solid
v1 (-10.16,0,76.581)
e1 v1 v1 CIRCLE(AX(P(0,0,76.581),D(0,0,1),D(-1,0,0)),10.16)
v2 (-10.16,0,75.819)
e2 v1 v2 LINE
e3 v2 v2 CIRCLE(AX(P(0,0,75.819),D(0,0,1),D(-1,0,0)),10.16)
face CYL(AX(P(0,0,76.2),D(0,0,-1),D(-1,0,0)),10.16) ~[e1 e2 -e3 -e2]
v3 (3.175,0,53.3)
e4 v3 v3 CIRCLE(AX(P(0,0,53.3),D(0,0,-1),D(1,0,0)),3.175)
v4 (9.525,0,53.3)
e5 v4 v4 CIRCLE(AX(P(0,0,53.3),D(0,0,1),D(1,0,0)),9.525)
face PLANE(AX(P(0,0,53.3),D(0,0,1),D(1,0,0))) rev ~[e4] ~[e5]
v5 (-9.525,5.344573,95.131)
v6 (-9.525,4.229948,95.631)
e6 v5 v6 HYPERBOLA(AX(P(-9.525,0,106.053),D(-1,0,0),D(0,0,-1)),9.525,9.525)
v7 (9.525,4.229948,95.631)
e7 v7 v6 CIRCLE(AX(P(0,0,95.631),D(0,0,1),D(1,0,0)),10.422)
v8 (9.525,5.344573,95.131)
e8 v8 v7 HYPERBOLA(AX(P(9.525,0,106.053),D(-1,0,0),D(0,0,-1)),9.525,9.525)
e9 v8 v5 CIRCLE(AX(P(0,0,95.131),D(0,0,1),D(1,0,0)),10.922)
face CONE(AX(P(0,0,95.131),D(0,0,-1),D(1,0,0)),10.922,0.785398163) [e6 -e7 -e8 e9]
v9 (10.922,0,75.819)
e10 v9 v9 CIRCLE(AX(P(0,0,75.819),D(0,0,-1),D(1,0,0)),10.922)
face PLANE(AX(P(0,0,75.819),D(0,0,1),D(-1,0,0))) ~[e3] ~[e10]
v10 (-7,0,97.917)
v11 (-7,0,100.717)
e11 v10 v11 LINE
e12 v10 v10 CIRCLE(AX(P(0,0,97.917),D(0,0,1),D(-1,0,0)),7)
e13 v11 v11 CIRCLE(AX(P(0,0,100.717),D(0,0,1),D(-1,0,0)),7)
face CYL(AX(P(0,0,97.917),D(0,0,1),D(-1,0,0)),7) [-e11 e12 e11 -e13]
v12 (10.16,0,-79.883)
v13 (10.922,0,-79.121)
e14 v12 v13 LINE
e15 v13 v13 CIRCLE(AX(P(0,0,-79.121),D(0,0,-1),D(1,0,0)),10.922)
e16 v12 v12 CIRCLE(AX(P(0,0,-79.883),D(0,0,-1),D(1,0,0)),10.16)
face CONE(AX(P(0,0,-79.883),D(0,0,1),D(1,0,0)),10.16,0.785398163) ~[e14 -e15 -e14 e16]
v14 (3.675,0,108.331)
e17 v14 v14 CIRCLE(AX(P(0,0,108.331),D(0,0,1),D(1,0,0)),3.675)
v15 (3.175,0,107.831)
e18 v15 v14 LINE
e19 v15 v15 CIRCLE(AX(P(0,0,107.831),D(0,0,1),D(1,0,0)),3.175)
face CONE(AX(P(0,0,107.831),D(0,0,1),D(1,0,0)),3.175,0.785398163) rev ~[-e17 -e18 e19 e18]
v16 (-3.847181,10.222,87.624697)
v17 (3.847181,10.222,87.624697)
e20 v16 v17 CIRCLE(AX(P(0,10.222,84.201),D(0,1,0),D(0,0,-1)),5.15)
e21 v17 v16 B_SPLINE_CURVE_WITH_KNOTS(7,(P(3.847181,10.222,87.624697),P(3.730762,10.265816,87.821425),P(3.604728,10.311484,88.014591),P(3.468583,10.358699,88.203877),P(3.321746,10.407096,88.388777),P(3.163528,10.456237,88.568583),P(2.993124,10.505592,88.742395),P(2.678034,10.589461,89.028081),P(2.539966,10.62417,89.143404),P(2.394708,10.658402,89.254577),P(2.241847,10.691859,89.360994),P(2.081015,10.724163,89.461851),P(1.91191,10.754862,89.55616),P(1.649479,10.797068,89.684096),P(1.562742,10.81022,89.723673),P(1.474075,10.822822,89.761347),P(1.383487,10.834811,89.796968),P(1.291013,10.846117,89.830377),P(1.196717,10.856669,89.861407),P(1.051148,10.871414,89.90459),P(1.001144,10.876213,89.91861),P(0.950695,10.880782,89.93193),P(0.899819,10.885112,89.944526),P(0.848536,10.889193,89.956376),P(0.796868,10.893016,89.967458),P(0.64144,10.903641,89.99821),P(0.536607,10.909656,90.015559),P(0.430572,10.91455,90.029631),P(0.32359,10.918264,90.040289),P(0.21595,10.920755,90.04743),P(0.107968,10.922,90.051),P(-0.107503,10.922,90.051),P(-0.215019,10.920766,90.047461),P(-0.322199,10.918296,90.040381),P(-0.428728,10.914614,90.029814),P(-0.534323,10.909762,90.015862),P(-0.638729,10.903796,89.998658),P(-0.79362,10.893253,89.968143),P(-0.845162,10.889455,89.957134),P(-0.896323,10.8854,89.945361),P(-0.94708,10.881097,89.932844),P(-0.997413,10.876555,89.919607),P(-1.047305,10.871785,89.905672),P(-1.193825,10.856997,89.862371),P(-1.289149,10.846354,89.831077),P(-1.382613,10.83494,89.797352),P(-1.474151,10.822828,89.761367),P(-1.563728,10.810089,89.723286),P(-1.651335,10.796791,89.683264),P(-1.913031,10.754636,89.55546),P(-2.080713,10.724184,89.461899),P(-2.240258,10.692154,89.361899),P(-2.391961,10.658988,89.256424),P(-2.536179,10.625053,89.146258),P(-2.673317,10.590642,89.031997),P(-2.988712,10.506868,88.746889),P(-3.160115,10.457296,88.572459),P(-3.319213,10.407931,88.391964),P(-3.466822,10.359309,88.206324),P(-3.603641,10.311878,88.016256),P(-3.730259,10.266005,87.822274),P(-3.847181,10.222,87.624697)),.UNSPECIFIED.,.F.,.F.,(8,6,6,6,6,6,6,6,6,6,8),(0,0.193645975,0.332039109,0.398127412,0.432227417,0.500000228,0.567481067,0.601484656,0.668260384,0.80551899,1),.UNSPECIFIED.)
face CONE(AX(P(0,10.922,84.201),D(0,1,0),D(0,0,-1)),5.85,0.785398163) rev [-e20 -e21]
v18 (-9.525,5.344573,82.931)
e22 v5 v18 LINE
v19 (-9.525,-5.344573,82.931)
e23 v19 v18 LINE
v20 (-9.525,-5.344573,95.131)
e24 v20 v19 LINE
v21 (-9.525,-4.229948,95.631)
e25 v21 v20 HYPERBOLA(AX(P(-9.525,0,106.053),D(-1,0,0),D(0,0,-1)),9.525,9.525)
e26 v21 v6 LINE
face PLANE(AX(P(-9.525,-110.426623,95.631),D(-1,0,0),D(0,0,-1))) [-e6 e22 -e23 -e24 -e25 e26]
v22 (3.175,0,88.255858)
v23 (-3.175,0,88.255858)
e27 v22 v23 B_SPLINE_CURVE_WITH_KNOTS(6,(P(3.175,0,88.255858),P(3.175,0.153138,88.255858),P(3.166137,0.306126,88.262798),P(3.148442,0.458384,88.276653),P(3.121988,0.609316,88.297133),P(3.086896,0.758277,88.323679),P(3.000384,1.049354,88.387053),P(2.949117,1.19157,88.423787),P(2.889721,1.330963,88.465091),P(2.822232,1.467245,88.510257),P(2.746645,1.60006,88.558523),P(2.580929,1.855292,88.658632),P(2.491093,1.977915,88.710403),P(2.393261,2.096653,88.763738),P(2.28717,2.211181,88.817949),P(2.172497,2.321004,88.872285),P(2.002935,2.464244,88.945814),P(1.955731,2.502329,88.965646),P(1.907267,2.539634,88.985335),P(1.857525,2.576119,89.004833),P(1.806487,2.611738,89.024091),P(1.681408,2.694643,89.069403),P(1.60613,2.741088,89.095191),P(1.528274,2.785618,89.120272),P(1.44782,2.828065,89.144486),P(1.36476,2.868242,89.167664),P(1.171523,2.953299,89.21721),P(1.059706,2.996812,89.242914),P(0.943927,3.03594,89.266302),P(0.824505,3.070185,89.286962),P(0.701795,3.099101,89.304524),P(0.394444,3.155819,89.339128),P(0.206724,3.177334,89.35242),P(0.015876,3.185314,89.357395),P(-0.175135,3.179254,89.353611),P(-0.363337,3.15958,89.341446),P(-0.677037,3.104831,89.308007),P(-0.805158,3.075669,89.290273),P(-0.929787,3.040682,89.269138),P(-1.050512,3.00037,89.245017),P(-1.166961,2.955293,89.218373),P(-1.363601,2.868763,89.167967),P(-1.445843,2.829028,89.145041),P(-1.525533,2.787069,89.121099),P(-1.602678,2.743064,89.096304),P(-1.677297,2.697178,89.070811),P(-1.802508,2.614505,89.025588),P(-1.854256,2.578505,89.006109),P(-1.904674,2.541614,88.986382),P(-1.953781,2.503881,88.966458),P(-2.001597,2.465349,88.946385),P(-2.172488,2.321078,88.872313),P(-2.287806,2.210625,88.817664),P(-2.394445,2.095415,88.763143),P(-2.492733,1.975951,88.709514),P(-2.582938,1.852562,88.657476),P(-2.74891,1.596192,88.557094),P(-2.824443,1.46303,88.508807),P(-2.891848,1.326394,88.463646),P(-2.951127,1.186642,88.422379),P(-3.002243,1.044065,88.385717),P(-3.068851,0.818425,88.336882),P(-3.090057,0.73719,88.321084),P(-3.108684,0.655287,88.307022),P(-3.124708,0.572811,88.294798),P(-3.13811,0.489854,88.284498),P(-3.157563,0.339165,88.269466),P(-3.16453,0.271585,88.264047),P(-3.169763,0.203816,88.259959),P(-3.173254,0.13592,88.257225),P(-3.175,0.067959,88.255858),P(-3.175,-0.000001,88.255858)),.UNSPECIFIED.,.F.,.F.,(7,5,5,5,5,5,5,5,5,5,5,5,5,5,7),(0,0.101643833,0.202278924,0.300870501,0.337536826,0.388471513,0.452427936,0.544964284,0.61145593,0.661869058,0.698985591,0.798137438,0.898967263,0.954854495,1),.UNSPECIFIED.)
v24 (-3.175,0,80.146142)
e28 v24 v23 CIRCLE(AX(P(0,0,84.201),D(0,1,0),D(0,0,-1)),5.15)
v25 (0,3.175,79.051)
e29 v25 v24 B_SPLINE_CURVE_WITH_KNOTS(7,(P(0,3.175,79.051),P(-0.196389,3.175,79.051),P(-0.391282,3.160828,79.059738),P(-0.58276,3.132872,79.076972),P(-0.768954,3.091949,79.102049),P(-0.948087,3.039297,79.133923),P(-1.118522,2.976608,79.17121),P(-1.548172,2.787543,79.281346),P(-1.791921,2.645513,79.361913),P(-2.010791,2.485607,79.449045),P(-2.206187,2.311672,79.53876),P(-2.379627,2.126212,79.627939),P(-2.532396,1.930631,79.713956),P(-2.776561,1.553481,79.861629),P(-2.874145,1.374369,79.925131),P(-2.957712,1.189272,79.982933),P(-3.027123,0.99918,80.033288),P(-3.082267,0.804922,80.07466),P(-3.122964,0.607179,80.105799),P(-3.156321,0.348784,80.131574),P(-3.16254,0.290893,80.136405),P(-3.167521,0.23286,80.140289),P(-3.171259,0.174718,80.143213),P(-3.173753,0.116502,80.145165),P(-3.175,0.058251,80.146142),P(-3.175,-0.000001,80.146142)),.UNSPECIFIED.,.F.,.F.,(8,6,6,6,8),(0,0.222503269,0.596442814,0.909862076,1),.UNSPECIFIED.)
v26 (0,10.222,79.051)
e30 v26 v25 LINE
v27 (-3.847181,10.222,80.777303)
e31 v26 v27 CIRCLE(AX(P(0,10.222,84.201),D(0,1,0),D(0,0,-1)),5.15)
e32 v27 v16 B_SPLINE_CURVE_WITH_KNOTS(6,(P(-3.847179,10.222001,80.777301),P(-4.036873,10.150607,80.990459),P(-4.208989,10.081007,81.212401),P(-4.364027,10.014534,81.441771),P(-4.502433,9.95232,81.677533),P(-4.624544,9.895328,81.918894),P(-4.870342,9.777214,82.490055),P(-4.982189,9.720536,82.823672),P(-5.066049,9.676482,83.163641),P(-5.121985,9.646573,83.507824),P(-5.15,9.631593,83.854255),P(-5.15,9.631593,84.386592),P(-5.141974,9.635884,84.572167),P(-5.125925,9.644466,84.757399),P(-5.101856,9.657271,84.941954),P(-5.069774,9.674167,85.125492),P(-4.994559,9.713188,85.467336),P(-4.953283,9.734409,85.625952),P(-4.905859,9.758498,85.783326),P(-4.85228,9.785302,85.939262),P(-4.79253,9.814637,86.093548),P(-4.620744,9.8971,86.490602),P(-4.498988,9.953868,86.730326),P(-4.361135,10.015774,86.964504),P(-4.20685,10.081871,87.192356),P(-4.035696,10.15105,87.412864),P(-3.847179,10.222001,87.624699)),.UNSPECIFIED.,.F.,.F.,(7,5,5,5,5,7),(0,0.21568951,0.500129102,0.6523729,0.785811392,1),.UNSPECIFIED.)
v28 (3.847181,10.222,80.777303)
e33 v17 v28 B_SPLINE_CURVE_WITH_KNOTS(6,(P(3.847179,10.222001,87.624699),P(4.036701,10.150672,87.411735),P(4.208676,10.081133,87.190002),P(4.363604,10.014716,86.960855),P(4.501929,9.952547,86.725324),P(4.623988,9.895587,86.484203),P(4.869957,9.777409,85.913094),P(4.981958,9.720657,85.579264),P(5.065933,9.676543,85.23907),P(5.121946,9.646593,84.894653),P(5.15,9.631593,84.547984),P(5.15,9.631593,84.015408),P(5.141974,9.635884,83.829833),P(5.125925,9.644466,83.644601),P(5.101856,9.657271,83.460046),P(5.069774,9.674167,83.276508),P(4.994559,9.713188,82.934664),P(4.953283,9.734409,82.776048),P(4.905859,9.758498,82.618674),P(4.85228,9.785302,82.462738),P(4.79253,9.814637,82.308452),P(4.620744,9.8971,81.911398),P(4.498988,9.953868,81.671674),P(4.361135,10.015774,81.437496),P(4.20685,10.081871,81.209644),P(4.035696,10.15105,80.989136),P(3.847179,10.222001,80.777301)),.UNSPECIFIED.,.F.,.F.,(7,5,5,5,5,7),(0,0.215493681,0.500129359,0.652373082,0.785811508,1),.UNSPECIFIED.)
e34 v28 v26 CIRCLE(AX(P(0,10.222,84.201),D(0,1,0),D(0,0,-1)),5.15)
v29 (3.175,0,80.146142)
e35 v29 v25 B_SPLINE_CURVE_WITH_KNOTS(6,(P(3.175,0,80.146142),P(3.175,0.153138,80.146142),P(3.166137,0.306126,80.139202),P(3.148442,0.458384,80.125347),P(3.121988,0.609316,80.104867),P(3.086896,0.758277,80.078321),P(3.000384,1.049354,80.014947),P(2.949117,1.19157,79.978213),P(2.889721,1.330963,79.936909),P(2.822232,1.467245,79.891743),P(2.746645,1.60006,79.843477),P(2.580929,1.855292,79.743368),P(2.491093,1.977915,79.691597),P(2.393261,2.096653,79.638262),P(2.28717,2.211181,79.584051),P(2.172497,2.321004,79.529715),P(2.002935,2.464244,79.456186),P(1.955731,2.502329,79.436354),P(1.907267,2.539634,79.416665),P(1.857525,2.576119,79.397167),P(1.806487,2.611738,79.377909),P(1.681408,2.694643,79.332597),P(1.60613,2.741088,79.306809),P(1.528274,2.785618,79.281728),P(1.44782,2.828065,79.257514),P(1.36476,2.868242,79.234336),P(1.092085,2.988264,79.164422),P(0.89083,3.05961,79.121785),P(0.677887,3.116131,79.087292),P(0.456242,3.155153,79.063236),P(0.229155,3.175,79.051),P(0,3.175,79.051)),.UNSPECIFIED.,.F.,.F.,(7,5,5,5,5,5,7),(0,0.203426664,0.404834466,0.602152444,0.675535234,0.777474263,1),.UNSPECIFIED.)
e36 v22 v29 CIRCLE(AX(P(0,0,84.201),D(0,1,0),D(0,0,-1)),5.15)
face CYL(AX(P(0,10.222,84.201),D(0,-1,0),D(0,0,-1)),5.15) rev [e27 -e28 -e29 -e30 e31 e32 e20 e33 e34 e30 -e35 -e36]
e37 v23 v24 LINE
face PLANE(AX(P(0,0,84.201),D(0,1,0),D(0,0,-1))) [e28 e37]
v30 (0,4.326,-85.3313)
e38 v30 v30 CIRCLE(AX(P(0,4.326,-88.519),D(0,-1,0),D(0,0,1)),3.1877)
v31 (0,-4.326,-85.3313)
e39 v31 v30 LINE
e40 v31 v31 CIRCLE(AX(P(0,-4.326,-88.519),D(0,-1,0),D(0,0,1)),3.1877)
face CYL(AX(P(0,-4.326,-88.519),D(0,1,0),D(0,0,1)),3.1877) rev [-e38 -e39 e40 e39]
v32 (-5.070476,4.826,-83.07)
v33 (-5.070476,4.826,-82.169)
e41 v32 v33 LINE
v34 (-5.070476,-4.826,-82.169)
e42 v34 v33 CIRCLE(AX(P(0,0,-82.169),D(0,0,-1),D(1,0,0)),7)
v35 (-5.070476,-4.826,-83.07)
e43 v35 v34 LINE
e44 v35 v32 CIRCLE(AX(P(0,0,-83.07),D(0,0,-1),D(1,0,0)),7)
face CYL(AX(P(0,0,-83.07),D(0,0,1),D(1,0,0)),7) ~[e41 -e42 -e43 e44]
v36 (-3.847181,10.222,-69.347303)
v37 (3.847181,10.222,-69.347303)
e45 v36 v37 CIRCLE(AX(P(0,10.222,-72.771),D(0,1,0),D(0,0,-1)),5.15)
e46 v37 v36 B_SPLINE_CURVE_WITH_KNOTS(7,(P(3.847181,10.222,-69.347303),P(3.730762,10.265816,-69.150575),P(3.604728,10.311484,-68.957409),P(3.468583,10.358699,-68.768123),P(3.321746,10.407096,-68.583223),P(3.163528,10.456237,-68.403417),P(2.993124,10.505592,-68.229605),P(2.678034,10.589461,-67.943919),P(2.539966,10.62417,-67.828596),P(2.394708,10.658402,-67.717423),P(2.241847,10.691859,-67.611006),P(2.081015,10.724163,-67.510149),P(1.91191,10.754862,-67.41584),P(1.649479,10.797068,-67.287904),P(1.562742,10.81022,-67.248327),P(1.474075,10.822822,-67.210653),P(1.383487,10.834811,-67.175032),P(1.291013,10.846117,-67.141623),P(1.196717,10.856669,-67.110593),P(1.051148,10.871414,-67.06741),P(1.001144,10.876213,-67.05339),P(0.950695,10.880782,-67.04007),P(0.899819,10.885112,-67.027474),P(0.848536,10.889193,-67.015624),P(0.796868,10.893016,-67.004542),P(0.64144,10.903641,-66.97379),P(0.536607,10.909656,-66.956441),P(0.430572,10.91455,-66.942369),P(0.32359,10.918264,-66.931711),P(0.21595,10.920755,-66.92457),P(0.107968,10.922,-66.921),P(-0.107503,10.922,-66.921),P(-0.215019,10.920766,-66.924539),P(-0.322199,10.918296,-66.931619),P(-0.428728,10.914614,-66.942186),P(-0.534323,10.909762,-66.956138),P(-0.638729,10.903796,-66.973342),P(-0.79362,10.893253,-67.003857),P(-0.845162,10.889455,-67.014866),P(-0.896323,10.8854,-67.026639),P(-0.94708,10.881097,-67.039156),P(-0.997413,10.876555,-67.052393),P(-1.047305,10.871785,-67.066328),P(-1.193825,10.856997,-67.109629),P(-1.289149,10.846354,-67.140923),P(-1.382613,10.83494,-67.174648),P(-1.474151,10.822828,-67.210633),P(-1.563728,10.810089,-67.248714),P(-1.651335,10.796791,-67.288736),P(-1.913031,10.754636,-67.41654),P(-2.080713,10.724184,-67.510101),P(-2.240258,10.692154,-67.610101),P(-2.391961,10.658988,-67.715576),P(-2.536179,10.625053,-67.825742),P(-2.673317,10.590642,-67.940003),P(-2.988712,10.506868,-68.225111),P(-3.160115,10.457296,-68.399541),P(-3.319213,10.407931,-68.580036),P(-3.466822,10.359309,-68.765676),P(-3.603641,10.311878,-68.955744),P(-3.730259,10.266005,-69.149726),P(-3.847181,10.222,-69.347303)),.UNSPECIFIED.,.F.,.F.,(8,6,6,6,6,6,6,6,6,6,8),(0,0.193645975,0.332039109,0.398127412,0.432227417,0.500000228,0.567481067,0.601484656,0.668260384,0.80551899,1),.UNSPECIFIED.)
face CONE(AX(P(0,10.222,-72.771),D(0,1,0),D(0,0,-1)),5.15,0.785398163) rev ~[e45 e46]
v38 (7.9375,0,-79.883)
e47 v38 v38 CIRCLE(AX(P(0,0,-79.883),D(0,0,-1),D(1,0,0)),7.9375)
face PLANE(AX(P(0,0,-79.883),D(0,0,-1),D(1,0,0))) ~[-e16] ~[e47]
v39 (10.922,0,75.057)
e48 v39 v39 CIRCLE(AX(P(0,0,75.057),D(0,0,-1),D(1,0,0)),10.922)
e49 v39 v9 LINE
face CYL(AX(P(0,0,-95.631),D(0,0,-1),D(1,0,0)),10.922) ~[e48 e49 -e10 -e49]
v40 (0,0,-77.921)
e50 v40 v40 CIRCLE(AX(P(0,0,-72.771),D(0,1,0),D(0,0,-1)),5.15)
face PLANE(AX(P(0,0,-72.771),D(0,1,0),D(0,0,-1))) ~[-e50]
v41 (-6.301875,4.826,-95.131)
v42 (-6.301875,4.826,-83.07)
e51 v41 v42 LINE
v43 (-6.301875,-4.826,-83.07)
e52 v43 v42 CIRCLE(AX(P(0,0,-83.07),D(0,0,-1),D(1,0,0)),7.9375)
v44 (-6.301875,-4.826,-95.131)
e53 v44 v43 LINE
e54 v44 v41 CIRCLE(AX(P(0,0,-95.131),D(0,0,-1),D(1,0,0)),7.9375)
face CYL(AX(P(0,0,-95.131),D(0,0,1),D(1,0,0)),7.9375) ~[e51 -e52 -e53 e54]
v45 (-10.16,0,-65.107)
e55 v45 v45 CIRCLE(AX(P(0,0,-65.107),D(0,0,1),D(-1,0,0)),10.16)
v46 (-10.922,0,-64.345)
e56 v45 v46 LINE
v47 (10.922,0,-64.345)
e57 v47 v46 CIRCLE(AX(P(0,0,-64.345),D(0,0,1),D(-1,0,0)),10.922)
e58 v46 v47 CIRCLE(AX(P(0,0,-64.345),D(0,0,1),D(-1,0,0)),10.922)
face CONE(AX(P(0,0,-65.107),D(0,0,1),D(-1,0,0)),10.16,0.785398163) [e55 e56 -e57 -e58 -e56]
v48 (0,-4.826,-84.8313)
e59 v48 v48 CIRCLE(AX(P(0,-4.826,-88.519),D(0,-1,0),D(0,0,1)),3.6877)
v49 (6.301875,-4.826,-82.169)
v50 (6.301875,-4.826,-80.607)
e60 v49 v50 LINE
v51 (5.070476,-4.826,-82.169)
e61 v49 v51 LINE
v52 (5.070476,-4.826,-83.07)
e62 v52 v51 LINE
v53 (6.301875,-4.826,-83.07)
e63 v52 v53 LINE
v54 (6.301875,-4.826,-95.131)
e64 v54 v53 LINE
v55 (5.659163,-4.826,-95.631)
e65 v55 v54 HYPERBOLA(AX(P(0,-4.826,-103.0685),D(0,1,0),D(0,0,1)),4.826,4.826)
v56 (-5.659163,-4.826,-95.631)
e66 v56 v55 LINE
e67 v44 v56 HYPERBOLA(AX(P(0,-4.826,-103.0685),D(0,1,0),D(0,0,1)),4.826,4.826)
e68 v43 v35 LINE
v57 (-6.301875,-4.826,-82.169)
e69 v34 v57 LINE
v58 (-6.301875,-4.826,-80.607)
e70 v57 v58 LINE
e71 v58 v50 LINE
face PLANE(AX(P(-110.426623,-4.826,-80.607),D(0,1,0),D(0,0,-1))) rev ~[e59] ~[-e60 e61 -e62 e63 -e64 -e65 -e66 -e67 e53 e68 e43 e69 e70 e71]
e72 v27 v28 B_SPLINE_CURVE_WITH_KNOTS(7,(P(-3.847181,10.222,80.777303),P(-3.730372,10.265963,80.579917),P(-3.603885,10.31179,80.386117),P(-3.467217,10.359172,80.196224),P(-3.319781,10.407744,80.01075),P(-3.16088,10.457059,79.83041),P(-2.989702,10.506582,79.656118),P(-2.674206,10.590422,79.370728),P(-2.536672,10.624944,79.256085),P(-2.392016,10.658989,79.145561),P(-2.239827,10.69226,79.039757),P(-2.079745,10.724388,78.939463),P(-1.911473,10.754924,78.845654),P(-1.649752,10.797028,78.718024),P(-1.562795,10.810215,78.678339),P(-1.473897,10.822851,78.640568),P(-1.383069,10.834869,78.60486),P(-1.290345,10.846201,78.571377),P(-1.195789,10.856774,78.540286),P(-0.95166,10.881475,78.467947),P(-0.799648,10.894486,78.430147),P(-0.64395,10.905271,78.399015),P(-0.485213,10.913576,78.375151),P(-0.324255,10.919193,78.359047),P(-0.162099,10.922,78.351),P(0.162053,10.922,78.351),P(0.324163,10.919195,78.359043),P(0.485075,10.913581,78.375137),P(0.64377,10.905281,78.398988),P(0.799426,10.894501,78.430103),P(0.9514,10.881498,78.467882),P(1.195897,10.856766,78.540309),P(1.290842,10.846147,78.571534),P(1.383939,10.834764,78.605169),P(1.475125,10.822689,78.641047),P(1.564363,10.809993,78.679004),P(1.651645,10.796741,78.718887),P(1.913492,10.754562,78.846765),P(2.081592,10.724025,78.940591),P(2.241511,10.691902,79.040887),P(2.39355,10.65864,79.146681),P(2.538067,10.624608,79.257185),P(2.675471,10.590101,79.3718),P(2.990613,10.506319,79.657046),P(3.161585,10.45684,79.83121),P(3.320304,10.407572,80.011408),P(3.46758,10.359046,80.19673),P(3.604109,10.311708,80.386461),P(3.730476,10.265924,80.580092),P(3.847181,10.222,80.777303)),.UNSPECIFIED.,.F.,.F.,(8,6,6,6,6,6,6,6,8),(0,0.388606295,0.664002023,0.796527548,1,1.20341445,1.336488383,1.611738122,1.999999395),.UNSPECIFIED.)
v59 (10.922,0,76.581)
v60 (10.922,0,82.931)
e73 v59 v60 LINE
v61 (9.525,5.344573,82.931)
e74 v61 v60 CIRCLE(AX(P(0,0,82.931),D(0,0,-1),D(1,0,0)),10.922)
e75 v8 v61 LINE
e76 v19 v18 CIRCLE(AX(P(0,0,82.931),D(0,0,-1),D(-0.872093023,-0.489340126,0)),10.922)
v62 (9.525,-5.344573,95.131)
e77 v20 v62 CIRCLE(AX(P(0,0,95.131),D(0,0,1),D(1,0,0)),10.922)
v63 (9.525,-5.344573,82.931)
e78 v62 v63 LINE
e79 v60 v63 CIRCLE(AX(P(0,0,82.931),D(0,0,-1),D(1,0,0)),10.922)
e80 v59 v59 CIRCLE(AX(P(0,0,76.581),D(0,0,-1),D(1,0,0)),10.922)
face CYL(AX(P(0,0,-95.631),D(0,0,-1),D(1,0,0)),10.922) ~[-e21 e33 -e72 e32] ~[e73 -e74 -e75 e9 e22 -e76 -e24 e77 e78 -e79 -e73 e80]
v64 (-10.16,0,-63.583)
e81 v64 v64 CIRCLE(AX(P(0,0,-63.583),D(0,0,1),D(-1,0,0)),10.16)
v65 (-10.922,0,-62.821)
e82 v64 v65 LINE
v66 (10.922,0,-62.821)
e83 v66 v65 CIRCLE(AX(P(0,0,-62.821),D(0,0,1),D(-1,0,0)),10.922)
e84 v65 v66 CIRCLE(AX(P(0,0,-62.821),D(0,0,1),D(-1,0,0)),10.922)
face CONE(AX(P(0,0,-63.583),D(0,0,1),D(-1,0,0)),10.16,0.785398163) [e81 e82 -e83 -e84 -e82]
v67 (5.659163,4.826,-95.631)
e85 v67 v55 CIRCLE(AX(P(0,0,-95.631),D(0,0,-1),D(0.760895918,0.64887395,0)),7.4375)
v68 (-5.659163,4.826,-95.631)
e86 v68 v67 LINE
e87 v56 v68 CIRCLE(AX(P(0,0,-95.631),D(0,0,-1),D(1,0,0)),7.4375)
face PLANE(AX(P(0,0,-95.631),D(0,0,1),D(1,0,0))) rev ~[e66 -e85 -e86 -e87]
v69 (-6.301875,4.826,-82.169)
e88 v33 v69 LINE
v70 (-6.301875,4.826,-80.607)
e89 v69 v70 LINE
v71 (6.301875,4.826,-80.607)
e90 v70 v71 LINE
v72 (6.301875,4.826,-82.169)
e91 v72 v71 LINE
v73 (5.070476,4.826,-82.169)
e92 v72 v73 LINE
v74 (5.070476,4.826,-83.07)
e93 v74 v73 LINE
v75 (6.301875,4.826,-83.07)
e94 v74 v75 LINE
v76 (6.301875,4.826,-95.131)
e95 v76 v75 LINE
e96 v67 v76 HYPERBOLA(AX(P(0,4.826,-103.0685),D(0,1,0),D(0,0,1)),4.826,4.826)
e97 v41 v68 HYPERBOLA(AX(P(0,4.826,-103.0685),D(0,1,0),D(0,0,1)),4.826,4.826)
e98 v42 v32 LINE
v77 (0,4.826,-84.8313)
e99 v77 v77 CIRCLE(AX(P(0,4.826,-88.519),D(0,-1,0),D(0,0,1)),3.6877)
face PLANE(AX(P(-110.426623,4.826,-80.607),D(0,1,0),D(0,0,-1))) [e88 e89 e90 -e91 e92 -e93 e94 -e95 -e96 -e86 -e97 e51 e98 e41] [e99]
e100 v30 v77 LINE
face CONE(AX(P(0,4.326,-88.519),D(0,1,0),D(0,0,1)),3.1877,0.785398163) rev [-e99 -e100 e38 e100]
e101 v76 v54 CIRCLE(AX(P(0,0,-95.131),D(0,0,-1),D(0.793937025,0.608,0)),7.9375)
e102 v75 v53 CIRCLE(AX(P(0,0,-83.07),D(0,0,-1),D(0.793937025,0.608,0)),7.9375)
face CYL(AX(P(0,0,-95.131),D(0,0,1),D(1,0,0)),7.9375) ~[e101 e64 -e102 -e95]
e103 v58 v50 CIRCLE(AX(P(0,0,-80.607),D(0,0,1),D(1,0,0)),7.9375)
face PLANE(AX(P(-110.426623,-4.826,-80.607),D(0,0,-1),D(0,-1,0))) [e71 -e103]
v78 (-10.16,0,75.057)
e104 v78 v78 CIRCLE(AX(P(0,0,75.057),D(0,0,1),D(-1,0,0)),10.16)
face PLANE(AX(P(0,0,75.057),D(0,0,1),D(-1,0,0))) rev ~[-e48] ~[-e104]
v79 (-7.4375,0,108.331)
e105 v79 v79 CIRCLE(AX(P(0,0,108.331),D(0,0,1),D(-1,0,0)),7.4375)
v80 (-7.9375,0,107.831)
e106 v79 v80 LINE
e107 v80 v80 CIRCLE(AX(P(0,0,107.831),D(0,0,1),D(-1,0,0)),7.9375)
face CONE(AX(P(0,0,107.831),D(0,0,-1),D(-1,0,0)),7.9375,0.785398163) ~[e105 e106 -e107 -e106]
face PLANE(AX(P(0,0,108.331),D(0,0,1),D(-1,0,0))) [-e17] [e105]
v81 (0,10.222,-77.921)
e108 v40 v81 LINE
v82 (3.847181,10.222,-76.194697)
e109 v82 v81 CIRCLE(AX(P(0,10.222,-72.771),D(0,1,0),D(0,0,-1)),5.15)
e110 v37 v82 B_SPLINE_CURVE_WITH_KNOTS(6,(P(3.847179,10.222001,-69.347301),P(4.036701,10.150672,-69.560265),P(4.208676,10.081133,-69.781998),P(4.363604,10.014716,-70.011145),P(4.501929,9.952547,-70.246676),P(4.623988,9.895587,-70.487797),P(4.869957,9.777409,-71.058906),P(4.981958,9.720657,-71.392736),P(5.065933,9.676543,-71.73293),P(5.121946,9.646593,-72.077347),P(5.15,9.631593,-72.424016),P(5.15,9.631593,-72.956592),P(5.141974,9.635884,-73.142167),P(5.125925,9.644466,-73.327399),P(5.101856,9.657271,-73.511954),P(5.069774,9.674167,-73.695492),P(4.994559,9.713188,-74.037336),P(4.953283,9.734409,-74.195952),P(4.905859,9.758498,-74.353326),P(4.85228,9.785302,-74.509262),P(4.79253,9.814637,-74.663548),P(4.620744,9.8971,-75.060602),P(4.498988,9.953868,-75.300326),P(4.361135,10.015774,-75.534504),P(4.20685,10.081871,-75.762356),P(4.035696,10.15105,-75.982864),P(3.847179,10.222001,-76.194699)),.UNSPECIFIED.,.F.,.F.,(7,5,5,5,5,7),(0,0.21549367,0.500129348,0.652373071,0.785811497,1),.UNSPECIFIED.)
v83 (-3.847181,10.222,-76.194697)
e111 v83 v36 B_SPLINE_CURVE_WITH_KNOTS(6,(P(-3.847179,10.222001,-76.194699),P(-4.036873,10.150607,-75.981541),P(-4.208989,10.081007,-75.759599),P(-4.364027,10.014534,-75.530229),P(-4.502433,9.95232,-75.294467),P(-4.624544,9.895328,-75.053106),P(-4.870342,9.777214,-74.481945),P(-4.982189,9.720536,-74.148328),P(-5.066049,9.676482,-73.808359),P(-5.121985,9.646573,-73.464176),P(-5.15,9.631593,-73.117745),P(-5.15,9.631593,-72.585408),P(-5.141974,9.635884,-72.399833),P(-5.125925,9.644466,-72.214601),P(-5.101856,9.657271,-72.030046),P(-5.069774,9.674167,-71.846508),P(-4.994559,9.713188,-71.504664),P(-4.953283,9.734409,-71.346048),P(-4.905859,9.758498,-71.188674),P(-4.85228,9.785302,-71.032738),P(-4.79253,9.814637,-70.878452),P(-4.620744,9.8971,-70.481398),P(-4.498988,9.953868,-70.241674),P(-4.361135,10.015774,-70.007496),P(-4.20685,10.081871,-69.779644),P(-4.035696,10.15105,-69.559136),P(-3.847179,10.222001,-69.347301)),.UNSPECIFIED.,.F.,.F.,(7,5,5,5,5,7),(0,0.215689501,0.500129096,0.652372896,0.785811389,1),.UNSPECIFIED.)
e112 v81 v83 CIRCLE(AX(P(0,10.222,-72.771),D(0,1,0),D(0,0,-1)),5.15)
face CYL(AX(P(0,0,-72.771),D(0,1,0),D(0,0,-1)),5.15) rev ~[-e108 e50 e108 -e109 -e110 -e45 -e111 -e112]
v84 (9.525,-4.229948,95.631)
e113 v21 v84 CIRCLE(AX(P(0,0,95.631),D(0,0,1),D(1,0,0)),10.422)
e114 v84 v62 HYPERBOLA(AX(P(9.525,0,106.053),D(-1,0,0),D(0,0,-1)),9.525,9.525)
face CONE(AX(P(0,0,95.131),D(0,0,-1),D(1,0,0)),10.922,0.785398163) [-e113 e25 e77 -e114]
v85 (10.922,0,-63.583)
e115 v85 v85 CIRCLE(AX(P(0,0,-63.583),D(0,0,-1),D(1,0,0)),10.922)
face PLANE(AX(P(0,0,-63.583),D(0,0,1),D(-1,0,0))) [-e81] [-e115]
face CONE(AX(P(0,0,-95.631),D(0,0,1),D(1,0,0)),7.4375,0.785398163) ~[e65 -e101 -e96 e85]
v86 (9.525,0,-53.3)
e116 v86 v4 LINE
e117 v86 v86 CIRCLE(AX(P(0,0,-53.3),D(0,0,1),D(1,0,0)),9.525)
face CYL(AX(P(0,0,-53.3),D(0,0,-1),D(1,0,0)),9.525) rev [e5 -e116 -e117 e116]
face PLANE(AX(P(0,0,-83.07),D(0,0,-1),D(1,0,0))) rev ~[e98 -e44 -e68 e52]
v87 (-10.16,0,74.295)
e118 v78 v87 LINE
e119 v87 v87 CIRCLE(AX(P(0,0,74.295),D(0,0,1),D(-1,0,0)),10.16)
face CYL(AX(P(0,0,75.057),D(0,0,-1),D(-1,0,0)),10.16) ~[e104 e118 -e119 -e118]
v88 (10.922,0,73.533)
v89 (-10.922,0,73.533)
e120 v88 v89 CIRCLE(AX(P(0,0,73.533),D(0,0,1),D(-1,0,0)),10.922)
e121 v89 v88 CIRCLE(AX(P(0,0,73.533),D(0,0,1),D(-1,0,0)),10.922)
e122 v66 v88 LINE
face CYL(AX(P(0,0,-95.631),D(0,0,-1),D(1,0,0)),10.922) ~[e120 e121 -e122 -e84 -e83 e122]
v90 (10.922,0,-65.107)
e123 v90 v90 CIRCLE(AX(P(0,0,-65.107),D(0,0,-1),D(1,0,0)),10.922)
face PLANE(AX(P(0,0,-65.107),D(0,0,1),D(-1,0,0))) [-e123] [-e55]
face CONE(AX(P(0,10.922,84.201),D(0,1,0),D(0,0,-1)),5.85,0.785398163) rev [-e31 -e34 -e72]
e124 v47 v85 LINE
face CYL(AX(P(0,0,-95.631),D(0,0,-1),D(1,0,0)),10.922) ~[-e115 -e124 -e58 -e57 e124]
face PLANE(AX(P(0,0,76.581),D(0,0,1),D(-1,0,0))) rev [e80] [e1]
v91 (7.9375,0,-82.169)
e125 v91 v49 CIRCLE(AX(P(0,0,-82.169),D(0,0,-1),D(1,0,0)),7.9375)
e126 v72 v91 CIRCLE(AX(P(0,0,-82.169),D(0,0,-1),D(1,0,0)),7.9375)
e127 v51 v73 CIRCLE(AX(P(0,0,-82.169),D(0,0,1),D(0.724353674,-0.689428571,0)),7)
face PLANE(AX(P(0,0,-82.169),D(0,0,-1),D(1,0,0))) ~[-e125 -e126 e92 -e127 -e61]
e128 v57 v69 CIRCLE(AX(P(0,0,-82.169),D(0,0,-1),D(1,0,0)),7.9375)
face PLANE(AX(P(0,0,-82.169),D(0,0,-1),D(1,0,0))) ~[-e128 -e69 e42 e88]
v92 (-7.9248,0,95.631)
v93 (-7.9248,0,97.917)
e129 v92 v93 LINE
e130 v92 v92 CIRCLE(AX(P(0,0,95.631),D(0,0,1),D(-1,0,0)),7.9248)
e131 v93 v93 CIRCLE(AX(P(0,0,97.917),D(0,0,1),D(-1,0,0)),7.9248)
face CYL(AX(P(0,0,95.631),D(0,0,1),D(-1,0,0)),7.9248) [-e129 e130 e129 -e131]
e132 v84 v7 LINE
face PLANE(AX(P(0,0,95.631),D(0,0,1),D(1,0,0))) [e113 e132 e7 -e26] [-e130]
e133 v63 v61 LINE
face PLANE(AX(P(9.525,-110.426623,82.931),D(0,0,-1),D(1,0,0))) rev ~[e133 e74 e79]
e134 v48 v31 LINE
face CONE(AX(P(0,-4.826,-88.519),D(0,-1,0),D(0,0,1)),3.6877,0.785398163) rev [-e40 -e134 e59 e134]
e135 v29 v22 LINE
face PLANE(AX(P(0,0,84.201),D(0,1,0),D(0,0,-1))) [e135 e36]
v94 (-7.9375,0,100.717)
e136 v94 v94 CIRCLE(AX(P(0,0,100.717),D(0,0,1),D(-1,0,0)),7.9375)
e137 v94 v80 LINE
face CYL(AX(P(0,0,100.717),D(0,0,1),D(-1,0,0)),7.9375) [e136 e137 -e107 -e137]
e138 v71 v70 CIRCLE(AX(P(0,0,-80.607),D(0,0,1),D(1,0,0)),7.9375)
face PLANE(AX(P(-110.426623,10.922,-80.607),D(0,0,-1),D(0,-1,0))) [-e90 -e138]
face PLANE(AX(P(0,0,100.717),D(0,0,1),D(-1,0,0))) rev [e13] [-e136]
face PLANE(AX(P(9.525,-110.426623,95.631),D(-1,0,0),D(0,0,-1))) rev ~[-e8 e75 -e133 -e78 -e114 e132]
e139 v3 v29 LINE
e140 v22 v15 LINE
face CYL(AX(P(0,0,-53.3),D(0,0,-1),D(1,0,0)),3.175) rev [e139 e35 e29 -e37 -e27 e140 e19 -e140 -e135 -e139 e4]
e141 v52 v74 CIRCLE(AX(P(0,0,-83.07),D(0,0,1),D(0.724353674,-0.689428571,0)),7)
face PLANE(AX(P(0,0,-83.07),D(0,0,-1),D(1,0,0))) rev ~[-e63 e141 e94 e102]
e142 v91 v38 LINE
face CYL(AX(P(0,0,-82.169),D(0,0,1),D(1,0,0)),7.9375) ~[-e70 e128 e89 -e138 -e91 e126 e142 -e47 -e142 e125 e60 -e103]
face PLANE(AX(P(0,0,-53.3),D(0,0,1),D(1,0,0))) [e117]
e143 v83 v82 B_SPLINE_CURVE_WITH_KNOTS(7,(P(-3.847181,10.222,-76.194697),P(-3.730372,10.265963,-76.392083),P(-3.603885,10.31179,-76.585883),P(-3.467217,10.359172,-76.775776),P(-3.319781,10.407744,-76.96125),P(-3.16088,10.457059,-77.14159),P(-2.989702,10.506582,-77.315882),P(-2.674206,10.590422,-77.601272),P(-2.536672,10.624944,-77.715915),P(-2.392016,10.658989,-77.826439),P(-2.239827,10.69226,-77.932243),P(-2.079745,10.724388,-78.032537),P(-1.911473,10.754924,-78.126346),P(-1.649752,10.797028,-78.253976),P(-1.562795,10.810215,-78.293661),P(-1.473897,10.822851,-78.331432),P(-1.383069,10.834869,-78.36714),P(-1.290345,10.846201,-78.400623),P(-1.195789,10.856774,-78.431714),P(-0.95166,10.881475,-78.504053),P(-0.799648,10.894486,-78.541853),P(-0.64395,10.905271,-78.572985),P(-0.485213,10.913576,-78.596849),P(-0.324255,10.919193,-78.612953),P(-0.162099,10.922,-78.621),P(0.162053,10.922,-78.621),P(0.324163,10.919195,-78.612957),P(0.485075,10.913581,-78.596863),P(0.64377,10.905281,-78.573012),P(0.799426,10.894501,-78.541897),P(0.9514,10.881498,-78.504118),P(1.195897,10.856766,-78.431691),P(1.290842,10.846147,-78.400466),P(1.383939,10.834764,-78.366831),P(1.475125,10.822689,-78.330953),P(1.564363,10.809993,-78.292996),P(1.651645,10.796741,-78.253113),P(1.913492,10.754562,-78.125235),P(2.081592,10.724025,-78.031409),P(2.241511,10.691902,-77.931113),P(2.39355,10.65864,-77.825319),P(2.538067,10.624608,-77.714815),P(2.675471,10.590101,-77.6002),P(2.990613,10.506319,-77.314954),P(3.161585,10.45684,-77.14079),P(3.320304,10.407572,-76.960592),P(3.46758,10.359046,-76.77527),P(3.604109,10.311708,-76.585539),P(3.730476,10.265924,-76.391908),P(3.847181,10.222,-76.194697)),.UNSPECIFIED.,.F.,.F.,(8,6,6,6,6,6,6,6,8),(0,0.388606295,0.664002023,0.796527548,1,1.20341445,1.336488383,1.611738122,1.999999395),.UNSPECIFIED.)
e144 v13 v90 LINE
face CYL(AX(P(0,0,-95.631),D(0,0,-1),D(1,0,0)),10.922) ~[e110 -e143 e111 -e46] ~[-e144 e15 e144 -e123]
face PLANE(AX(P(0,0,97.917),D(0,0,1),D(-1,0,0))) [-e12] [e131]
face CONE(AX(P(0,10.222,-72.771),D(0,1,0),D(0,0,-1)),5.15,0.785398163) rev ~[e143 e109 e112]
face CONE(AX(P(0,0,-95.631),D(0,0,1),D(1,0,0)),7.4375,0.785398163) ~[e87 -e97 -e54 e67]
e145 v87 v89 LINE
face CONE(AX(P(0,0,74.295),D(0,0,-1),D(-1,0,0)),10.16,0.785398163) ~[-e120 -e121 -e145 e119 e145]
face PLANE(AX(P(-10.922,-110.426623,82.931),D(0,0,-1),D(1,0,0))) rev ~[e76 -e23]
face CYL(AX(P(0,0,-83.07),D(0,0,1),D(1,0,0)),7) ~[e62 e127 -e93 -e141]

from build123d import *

# Parameters (mm, degrees)
EXTRUDE1_DEPTH      = 95.631
EXTRUDE1_DEPTH_BACK = 95.631
SKETCH1_R           = 10.922
SKETCH3_W           = 0.762
SKETCH3_H           = 0.762
RODHOLE_START       = -161.631
SKETCH8_R           = 3.175
RODHOLE_DEPTH       = 161.631
SKETCH9_R           = 9.525
STROKECHAMBER_DEPTH = 106.6
CHAMFER1_SIZE       = 0.5
FLATS_DEPTH         = 110.426622599
FLATS_DEPTH_BACK    = 110.426622599
SKETCH4_W           = 1.397
SKETCH4_H           = 12.7
SKETCH4_W_2         = 0.5
SKETCH4_H_2         = 3.048
ENDFLATS_DEPTH      = 110.426622599
ENDFLATS_DEPTH_BACK = 110.426622599
SKETCH12_W          = 6.096
SKETCH12_H          = 15.024


with BuildPart() as part:
    # Sketch1 → Extrude1 (new, two sides: drawn at the far end of the back side and taken through both)
    with BuildSketch(Plane.XY.offset(-EXTRUDE1_DEPTH_BACK)):
        Circle(SKETCH1_R)
    extrude(amount=EXTRUDE1_DEPTH + EXTRUDE1_DEPTH_BACK)

    # Sketch2 → Nose (revolve)
    with BuildSketch(Plane(origin=(0, 0, 0), x_dir=(0, 0, -1), z_dir=(1, 0, 0)), mode=Mode.PRIVATE) as nose_sk:
        Polygon((-95.631, 7.9248), (-97.917, 7.9248), (-97.917, 7), (-100.717, 7), (-100.717, 7.9375), (-108.331, 7.9375), (-108.331, 0), (-95.631, 0), align=None)
    revolve(nose_sk.sketch.rotate(Axis((0, 0, 0), (0, 0, 1)), 90), axis=Axis((0, 0, 0), (0, 0, 1)))

    # Sketch3 → CoverGrooves (revolve, cut)
    with BuildSketch(Plane(origin=(0, 0, 0), x_dir=(0, 0, -1), z_dir=(1, 0, 0)), mode=Mode.PRIVATE) as covergrooves_sk:
        with Locations((-76.2, 10.541)):
            Rectangle(SKETCH3_W, SKETCH3_H)
        Polygon((-75.057, 10.922), (-75.057, 10.16), (-74.295, 10.16), (-73.533, 10.922), align=None)
        Polygon((65.107, 10.922), (65.107, 10.16), (64.345, 10.922), align=None)
        Polygon((63.583, 10.922), (63.583, 10.16), (62.821, 10.922), align=None)
    revolve(covergrooves_sk.sketch.rotate(Axis((0, 0, 0), (0, 0, 1)), 90), axis=Axis((0, 0, 0), (0, 0, 1)), mode=Mode.SUBTRACT)

    # Sketch7 → FrontPort (revolve, cut)
    with BuildSketch(Plane(origin=(0, 0, 0), x_dir=(0, 0, -1), z_dir=(1, 0, 0))):
        Polygon((-84.201, 10.922), (-78.351, 10.922), (-79.051, 10.222), (-79.051, 0), (-84.201, 0), align=None)
    revolve(axis=Axis((0, 0, 84.201), (0, 1, 0)), mode=Mode.SUBTRACT)

    # Sketch8 → RodHole (cut)
    with BuildSketch(Plane.XY.offset(108.331).offset(RODHOLE_START)):
        Circle(SKETCH8_R)
    extrude(amount=RODHOLE_DEPTH, mode=Mode.SUBTRACT)

    # Sketch9 → StrokeChamber (cut)
    with BuildSketch(Plane.XY.offset(-53.3)):
        Circle(SKETCH9_R)
    extrude(amount=STROKECHAMBER_DEPTH, mode=Mode.SUBTRACT)

    # Chamfer1
    chamfer1_edges = [part.edges().sort_by_distance(p)[0] for p in [
        (-10.922, 0, -95.631),
        (-3.175, 0, 108.331),
        (-10.922, 0, 95.631),
        (7.9375, 0, 108.331),
    ]]
    chamfer(chamfer1_edges, length=CHAMFER1_SIZE)

    # Sketch4 → Flats (cut, two sides: drawn at the far end of the back side and taken through both)
    with BuildSketch(Plane(origin=(0, 0, 0), x_dir=(1, 0, 0), z_dir=(0, 1, 0)).offset(-FLATS_DEPTH_BACK)):
        with Locations((10.2235, -89.281)):
            Rectangle(SKETCH4_W, SKETCH4_H)
        with Locations((10.672, 94.107)):
            Rectangle(SKETCH4_W_2, SKETCH4_H_2)
        with Locations((-10.672, 94.107)):
            Rectangle(SKETCH4_W_2, SKETCH4_H_2)
        with Locations((-10.2235, -89.281)):
            Rectangle(SKETCH4_W, SKETCH4_H)
    extrude(amount=FLATS_DEPTH + FLATS_DEPTH_BACK, mode=Mode.SUBTRACT)

    # Sketch11 → EndThreads (revolve, cut)
    with BuildSketch(Plane(origin=(0, 0, 0), x_dir=(0, 0, -1), z_dir=(1, 0, 0)), mode=Mode.PRIVATE) as endthreads_sk:
        Polygon((95.631, 7.4375), (95.131, 7.9375), (83.07, 7.9375), (83.07, 7), (82.169, 7), (82.169, 7.9375), (79.883, 7.9375), (79.883, 10.16), (79.121, 10.922), (95.631, 10.922), align=None)
    revolve(endthreads_sk.sketch.rotate(Axis((0, 0, 0), (0, 0, -1)), 90), axis=Axis((0, 0, 0), (0, 0, -1)), mode=Mode.SUBTRACT)

    # Sketch13 → RearTopPort (revolve, cut)
    with BuildSketch(Plane(origin=(0, 0, 0), x_dir=(0, 0, -1), z_dir=(1, 0, 0))):
        Polygon((72.771, 0), (77.921, 0), (77.921, 10.222), (78.621, 10.922), (72.771, 10.922), align=None)
    revolve(axis=Axis((0, 0, -72.771), (0, 1, 0)), mode=Mode.SUBTRACT)

    # Sketch12 → EndFlats (cut, two sides: drawn at the far end of the back side and taken through both)
    with BuildSketch(Plane(origin=(0, 0, 0), x_dir=(0, -1, 0), z_dir=(1, 0, 0)).offset(-ENDFLATS_DEPTH_BACK)):
        with Locations((7.874, 88.119)):
            Rectangle(SKETCH12_W, SKETCH12_H)
        with Locations((-7.874, 88.119)):
            Rectangle(SKETCH12_W, SKETCH12_H)
    extrude(amount=ENDFLATS_DEPTH + ENDFLATS_DEPTH_BACK, mode=Mode.SUBTRACT)

    # Sketch15 → ClevisPinHole (revolve, cut)
    with BuildSketch(Plane(origin=(0, 0, 0), x_dir=(0, -1, 0), z_dir=(1, 0, 0)), mode=Mode.PRIVATE) as clevispinhole_sk:
        Polygon((4.826, 92.2067), (4.326, 91.7067), (-4.326, 91.7067), (-4.826, 92.2067), (-4.826, 88.519), (4.826, 88.519), align=None)
    revolve(clevispinhole_sk.sketch.rotate(Axis((0, 0, -88.519), (0, -1, 0)), 180), axis=Axis((0, 0, -88.519), (0, -1, 0)), mode=Mode.SUBTRACT)


solid = part.part
